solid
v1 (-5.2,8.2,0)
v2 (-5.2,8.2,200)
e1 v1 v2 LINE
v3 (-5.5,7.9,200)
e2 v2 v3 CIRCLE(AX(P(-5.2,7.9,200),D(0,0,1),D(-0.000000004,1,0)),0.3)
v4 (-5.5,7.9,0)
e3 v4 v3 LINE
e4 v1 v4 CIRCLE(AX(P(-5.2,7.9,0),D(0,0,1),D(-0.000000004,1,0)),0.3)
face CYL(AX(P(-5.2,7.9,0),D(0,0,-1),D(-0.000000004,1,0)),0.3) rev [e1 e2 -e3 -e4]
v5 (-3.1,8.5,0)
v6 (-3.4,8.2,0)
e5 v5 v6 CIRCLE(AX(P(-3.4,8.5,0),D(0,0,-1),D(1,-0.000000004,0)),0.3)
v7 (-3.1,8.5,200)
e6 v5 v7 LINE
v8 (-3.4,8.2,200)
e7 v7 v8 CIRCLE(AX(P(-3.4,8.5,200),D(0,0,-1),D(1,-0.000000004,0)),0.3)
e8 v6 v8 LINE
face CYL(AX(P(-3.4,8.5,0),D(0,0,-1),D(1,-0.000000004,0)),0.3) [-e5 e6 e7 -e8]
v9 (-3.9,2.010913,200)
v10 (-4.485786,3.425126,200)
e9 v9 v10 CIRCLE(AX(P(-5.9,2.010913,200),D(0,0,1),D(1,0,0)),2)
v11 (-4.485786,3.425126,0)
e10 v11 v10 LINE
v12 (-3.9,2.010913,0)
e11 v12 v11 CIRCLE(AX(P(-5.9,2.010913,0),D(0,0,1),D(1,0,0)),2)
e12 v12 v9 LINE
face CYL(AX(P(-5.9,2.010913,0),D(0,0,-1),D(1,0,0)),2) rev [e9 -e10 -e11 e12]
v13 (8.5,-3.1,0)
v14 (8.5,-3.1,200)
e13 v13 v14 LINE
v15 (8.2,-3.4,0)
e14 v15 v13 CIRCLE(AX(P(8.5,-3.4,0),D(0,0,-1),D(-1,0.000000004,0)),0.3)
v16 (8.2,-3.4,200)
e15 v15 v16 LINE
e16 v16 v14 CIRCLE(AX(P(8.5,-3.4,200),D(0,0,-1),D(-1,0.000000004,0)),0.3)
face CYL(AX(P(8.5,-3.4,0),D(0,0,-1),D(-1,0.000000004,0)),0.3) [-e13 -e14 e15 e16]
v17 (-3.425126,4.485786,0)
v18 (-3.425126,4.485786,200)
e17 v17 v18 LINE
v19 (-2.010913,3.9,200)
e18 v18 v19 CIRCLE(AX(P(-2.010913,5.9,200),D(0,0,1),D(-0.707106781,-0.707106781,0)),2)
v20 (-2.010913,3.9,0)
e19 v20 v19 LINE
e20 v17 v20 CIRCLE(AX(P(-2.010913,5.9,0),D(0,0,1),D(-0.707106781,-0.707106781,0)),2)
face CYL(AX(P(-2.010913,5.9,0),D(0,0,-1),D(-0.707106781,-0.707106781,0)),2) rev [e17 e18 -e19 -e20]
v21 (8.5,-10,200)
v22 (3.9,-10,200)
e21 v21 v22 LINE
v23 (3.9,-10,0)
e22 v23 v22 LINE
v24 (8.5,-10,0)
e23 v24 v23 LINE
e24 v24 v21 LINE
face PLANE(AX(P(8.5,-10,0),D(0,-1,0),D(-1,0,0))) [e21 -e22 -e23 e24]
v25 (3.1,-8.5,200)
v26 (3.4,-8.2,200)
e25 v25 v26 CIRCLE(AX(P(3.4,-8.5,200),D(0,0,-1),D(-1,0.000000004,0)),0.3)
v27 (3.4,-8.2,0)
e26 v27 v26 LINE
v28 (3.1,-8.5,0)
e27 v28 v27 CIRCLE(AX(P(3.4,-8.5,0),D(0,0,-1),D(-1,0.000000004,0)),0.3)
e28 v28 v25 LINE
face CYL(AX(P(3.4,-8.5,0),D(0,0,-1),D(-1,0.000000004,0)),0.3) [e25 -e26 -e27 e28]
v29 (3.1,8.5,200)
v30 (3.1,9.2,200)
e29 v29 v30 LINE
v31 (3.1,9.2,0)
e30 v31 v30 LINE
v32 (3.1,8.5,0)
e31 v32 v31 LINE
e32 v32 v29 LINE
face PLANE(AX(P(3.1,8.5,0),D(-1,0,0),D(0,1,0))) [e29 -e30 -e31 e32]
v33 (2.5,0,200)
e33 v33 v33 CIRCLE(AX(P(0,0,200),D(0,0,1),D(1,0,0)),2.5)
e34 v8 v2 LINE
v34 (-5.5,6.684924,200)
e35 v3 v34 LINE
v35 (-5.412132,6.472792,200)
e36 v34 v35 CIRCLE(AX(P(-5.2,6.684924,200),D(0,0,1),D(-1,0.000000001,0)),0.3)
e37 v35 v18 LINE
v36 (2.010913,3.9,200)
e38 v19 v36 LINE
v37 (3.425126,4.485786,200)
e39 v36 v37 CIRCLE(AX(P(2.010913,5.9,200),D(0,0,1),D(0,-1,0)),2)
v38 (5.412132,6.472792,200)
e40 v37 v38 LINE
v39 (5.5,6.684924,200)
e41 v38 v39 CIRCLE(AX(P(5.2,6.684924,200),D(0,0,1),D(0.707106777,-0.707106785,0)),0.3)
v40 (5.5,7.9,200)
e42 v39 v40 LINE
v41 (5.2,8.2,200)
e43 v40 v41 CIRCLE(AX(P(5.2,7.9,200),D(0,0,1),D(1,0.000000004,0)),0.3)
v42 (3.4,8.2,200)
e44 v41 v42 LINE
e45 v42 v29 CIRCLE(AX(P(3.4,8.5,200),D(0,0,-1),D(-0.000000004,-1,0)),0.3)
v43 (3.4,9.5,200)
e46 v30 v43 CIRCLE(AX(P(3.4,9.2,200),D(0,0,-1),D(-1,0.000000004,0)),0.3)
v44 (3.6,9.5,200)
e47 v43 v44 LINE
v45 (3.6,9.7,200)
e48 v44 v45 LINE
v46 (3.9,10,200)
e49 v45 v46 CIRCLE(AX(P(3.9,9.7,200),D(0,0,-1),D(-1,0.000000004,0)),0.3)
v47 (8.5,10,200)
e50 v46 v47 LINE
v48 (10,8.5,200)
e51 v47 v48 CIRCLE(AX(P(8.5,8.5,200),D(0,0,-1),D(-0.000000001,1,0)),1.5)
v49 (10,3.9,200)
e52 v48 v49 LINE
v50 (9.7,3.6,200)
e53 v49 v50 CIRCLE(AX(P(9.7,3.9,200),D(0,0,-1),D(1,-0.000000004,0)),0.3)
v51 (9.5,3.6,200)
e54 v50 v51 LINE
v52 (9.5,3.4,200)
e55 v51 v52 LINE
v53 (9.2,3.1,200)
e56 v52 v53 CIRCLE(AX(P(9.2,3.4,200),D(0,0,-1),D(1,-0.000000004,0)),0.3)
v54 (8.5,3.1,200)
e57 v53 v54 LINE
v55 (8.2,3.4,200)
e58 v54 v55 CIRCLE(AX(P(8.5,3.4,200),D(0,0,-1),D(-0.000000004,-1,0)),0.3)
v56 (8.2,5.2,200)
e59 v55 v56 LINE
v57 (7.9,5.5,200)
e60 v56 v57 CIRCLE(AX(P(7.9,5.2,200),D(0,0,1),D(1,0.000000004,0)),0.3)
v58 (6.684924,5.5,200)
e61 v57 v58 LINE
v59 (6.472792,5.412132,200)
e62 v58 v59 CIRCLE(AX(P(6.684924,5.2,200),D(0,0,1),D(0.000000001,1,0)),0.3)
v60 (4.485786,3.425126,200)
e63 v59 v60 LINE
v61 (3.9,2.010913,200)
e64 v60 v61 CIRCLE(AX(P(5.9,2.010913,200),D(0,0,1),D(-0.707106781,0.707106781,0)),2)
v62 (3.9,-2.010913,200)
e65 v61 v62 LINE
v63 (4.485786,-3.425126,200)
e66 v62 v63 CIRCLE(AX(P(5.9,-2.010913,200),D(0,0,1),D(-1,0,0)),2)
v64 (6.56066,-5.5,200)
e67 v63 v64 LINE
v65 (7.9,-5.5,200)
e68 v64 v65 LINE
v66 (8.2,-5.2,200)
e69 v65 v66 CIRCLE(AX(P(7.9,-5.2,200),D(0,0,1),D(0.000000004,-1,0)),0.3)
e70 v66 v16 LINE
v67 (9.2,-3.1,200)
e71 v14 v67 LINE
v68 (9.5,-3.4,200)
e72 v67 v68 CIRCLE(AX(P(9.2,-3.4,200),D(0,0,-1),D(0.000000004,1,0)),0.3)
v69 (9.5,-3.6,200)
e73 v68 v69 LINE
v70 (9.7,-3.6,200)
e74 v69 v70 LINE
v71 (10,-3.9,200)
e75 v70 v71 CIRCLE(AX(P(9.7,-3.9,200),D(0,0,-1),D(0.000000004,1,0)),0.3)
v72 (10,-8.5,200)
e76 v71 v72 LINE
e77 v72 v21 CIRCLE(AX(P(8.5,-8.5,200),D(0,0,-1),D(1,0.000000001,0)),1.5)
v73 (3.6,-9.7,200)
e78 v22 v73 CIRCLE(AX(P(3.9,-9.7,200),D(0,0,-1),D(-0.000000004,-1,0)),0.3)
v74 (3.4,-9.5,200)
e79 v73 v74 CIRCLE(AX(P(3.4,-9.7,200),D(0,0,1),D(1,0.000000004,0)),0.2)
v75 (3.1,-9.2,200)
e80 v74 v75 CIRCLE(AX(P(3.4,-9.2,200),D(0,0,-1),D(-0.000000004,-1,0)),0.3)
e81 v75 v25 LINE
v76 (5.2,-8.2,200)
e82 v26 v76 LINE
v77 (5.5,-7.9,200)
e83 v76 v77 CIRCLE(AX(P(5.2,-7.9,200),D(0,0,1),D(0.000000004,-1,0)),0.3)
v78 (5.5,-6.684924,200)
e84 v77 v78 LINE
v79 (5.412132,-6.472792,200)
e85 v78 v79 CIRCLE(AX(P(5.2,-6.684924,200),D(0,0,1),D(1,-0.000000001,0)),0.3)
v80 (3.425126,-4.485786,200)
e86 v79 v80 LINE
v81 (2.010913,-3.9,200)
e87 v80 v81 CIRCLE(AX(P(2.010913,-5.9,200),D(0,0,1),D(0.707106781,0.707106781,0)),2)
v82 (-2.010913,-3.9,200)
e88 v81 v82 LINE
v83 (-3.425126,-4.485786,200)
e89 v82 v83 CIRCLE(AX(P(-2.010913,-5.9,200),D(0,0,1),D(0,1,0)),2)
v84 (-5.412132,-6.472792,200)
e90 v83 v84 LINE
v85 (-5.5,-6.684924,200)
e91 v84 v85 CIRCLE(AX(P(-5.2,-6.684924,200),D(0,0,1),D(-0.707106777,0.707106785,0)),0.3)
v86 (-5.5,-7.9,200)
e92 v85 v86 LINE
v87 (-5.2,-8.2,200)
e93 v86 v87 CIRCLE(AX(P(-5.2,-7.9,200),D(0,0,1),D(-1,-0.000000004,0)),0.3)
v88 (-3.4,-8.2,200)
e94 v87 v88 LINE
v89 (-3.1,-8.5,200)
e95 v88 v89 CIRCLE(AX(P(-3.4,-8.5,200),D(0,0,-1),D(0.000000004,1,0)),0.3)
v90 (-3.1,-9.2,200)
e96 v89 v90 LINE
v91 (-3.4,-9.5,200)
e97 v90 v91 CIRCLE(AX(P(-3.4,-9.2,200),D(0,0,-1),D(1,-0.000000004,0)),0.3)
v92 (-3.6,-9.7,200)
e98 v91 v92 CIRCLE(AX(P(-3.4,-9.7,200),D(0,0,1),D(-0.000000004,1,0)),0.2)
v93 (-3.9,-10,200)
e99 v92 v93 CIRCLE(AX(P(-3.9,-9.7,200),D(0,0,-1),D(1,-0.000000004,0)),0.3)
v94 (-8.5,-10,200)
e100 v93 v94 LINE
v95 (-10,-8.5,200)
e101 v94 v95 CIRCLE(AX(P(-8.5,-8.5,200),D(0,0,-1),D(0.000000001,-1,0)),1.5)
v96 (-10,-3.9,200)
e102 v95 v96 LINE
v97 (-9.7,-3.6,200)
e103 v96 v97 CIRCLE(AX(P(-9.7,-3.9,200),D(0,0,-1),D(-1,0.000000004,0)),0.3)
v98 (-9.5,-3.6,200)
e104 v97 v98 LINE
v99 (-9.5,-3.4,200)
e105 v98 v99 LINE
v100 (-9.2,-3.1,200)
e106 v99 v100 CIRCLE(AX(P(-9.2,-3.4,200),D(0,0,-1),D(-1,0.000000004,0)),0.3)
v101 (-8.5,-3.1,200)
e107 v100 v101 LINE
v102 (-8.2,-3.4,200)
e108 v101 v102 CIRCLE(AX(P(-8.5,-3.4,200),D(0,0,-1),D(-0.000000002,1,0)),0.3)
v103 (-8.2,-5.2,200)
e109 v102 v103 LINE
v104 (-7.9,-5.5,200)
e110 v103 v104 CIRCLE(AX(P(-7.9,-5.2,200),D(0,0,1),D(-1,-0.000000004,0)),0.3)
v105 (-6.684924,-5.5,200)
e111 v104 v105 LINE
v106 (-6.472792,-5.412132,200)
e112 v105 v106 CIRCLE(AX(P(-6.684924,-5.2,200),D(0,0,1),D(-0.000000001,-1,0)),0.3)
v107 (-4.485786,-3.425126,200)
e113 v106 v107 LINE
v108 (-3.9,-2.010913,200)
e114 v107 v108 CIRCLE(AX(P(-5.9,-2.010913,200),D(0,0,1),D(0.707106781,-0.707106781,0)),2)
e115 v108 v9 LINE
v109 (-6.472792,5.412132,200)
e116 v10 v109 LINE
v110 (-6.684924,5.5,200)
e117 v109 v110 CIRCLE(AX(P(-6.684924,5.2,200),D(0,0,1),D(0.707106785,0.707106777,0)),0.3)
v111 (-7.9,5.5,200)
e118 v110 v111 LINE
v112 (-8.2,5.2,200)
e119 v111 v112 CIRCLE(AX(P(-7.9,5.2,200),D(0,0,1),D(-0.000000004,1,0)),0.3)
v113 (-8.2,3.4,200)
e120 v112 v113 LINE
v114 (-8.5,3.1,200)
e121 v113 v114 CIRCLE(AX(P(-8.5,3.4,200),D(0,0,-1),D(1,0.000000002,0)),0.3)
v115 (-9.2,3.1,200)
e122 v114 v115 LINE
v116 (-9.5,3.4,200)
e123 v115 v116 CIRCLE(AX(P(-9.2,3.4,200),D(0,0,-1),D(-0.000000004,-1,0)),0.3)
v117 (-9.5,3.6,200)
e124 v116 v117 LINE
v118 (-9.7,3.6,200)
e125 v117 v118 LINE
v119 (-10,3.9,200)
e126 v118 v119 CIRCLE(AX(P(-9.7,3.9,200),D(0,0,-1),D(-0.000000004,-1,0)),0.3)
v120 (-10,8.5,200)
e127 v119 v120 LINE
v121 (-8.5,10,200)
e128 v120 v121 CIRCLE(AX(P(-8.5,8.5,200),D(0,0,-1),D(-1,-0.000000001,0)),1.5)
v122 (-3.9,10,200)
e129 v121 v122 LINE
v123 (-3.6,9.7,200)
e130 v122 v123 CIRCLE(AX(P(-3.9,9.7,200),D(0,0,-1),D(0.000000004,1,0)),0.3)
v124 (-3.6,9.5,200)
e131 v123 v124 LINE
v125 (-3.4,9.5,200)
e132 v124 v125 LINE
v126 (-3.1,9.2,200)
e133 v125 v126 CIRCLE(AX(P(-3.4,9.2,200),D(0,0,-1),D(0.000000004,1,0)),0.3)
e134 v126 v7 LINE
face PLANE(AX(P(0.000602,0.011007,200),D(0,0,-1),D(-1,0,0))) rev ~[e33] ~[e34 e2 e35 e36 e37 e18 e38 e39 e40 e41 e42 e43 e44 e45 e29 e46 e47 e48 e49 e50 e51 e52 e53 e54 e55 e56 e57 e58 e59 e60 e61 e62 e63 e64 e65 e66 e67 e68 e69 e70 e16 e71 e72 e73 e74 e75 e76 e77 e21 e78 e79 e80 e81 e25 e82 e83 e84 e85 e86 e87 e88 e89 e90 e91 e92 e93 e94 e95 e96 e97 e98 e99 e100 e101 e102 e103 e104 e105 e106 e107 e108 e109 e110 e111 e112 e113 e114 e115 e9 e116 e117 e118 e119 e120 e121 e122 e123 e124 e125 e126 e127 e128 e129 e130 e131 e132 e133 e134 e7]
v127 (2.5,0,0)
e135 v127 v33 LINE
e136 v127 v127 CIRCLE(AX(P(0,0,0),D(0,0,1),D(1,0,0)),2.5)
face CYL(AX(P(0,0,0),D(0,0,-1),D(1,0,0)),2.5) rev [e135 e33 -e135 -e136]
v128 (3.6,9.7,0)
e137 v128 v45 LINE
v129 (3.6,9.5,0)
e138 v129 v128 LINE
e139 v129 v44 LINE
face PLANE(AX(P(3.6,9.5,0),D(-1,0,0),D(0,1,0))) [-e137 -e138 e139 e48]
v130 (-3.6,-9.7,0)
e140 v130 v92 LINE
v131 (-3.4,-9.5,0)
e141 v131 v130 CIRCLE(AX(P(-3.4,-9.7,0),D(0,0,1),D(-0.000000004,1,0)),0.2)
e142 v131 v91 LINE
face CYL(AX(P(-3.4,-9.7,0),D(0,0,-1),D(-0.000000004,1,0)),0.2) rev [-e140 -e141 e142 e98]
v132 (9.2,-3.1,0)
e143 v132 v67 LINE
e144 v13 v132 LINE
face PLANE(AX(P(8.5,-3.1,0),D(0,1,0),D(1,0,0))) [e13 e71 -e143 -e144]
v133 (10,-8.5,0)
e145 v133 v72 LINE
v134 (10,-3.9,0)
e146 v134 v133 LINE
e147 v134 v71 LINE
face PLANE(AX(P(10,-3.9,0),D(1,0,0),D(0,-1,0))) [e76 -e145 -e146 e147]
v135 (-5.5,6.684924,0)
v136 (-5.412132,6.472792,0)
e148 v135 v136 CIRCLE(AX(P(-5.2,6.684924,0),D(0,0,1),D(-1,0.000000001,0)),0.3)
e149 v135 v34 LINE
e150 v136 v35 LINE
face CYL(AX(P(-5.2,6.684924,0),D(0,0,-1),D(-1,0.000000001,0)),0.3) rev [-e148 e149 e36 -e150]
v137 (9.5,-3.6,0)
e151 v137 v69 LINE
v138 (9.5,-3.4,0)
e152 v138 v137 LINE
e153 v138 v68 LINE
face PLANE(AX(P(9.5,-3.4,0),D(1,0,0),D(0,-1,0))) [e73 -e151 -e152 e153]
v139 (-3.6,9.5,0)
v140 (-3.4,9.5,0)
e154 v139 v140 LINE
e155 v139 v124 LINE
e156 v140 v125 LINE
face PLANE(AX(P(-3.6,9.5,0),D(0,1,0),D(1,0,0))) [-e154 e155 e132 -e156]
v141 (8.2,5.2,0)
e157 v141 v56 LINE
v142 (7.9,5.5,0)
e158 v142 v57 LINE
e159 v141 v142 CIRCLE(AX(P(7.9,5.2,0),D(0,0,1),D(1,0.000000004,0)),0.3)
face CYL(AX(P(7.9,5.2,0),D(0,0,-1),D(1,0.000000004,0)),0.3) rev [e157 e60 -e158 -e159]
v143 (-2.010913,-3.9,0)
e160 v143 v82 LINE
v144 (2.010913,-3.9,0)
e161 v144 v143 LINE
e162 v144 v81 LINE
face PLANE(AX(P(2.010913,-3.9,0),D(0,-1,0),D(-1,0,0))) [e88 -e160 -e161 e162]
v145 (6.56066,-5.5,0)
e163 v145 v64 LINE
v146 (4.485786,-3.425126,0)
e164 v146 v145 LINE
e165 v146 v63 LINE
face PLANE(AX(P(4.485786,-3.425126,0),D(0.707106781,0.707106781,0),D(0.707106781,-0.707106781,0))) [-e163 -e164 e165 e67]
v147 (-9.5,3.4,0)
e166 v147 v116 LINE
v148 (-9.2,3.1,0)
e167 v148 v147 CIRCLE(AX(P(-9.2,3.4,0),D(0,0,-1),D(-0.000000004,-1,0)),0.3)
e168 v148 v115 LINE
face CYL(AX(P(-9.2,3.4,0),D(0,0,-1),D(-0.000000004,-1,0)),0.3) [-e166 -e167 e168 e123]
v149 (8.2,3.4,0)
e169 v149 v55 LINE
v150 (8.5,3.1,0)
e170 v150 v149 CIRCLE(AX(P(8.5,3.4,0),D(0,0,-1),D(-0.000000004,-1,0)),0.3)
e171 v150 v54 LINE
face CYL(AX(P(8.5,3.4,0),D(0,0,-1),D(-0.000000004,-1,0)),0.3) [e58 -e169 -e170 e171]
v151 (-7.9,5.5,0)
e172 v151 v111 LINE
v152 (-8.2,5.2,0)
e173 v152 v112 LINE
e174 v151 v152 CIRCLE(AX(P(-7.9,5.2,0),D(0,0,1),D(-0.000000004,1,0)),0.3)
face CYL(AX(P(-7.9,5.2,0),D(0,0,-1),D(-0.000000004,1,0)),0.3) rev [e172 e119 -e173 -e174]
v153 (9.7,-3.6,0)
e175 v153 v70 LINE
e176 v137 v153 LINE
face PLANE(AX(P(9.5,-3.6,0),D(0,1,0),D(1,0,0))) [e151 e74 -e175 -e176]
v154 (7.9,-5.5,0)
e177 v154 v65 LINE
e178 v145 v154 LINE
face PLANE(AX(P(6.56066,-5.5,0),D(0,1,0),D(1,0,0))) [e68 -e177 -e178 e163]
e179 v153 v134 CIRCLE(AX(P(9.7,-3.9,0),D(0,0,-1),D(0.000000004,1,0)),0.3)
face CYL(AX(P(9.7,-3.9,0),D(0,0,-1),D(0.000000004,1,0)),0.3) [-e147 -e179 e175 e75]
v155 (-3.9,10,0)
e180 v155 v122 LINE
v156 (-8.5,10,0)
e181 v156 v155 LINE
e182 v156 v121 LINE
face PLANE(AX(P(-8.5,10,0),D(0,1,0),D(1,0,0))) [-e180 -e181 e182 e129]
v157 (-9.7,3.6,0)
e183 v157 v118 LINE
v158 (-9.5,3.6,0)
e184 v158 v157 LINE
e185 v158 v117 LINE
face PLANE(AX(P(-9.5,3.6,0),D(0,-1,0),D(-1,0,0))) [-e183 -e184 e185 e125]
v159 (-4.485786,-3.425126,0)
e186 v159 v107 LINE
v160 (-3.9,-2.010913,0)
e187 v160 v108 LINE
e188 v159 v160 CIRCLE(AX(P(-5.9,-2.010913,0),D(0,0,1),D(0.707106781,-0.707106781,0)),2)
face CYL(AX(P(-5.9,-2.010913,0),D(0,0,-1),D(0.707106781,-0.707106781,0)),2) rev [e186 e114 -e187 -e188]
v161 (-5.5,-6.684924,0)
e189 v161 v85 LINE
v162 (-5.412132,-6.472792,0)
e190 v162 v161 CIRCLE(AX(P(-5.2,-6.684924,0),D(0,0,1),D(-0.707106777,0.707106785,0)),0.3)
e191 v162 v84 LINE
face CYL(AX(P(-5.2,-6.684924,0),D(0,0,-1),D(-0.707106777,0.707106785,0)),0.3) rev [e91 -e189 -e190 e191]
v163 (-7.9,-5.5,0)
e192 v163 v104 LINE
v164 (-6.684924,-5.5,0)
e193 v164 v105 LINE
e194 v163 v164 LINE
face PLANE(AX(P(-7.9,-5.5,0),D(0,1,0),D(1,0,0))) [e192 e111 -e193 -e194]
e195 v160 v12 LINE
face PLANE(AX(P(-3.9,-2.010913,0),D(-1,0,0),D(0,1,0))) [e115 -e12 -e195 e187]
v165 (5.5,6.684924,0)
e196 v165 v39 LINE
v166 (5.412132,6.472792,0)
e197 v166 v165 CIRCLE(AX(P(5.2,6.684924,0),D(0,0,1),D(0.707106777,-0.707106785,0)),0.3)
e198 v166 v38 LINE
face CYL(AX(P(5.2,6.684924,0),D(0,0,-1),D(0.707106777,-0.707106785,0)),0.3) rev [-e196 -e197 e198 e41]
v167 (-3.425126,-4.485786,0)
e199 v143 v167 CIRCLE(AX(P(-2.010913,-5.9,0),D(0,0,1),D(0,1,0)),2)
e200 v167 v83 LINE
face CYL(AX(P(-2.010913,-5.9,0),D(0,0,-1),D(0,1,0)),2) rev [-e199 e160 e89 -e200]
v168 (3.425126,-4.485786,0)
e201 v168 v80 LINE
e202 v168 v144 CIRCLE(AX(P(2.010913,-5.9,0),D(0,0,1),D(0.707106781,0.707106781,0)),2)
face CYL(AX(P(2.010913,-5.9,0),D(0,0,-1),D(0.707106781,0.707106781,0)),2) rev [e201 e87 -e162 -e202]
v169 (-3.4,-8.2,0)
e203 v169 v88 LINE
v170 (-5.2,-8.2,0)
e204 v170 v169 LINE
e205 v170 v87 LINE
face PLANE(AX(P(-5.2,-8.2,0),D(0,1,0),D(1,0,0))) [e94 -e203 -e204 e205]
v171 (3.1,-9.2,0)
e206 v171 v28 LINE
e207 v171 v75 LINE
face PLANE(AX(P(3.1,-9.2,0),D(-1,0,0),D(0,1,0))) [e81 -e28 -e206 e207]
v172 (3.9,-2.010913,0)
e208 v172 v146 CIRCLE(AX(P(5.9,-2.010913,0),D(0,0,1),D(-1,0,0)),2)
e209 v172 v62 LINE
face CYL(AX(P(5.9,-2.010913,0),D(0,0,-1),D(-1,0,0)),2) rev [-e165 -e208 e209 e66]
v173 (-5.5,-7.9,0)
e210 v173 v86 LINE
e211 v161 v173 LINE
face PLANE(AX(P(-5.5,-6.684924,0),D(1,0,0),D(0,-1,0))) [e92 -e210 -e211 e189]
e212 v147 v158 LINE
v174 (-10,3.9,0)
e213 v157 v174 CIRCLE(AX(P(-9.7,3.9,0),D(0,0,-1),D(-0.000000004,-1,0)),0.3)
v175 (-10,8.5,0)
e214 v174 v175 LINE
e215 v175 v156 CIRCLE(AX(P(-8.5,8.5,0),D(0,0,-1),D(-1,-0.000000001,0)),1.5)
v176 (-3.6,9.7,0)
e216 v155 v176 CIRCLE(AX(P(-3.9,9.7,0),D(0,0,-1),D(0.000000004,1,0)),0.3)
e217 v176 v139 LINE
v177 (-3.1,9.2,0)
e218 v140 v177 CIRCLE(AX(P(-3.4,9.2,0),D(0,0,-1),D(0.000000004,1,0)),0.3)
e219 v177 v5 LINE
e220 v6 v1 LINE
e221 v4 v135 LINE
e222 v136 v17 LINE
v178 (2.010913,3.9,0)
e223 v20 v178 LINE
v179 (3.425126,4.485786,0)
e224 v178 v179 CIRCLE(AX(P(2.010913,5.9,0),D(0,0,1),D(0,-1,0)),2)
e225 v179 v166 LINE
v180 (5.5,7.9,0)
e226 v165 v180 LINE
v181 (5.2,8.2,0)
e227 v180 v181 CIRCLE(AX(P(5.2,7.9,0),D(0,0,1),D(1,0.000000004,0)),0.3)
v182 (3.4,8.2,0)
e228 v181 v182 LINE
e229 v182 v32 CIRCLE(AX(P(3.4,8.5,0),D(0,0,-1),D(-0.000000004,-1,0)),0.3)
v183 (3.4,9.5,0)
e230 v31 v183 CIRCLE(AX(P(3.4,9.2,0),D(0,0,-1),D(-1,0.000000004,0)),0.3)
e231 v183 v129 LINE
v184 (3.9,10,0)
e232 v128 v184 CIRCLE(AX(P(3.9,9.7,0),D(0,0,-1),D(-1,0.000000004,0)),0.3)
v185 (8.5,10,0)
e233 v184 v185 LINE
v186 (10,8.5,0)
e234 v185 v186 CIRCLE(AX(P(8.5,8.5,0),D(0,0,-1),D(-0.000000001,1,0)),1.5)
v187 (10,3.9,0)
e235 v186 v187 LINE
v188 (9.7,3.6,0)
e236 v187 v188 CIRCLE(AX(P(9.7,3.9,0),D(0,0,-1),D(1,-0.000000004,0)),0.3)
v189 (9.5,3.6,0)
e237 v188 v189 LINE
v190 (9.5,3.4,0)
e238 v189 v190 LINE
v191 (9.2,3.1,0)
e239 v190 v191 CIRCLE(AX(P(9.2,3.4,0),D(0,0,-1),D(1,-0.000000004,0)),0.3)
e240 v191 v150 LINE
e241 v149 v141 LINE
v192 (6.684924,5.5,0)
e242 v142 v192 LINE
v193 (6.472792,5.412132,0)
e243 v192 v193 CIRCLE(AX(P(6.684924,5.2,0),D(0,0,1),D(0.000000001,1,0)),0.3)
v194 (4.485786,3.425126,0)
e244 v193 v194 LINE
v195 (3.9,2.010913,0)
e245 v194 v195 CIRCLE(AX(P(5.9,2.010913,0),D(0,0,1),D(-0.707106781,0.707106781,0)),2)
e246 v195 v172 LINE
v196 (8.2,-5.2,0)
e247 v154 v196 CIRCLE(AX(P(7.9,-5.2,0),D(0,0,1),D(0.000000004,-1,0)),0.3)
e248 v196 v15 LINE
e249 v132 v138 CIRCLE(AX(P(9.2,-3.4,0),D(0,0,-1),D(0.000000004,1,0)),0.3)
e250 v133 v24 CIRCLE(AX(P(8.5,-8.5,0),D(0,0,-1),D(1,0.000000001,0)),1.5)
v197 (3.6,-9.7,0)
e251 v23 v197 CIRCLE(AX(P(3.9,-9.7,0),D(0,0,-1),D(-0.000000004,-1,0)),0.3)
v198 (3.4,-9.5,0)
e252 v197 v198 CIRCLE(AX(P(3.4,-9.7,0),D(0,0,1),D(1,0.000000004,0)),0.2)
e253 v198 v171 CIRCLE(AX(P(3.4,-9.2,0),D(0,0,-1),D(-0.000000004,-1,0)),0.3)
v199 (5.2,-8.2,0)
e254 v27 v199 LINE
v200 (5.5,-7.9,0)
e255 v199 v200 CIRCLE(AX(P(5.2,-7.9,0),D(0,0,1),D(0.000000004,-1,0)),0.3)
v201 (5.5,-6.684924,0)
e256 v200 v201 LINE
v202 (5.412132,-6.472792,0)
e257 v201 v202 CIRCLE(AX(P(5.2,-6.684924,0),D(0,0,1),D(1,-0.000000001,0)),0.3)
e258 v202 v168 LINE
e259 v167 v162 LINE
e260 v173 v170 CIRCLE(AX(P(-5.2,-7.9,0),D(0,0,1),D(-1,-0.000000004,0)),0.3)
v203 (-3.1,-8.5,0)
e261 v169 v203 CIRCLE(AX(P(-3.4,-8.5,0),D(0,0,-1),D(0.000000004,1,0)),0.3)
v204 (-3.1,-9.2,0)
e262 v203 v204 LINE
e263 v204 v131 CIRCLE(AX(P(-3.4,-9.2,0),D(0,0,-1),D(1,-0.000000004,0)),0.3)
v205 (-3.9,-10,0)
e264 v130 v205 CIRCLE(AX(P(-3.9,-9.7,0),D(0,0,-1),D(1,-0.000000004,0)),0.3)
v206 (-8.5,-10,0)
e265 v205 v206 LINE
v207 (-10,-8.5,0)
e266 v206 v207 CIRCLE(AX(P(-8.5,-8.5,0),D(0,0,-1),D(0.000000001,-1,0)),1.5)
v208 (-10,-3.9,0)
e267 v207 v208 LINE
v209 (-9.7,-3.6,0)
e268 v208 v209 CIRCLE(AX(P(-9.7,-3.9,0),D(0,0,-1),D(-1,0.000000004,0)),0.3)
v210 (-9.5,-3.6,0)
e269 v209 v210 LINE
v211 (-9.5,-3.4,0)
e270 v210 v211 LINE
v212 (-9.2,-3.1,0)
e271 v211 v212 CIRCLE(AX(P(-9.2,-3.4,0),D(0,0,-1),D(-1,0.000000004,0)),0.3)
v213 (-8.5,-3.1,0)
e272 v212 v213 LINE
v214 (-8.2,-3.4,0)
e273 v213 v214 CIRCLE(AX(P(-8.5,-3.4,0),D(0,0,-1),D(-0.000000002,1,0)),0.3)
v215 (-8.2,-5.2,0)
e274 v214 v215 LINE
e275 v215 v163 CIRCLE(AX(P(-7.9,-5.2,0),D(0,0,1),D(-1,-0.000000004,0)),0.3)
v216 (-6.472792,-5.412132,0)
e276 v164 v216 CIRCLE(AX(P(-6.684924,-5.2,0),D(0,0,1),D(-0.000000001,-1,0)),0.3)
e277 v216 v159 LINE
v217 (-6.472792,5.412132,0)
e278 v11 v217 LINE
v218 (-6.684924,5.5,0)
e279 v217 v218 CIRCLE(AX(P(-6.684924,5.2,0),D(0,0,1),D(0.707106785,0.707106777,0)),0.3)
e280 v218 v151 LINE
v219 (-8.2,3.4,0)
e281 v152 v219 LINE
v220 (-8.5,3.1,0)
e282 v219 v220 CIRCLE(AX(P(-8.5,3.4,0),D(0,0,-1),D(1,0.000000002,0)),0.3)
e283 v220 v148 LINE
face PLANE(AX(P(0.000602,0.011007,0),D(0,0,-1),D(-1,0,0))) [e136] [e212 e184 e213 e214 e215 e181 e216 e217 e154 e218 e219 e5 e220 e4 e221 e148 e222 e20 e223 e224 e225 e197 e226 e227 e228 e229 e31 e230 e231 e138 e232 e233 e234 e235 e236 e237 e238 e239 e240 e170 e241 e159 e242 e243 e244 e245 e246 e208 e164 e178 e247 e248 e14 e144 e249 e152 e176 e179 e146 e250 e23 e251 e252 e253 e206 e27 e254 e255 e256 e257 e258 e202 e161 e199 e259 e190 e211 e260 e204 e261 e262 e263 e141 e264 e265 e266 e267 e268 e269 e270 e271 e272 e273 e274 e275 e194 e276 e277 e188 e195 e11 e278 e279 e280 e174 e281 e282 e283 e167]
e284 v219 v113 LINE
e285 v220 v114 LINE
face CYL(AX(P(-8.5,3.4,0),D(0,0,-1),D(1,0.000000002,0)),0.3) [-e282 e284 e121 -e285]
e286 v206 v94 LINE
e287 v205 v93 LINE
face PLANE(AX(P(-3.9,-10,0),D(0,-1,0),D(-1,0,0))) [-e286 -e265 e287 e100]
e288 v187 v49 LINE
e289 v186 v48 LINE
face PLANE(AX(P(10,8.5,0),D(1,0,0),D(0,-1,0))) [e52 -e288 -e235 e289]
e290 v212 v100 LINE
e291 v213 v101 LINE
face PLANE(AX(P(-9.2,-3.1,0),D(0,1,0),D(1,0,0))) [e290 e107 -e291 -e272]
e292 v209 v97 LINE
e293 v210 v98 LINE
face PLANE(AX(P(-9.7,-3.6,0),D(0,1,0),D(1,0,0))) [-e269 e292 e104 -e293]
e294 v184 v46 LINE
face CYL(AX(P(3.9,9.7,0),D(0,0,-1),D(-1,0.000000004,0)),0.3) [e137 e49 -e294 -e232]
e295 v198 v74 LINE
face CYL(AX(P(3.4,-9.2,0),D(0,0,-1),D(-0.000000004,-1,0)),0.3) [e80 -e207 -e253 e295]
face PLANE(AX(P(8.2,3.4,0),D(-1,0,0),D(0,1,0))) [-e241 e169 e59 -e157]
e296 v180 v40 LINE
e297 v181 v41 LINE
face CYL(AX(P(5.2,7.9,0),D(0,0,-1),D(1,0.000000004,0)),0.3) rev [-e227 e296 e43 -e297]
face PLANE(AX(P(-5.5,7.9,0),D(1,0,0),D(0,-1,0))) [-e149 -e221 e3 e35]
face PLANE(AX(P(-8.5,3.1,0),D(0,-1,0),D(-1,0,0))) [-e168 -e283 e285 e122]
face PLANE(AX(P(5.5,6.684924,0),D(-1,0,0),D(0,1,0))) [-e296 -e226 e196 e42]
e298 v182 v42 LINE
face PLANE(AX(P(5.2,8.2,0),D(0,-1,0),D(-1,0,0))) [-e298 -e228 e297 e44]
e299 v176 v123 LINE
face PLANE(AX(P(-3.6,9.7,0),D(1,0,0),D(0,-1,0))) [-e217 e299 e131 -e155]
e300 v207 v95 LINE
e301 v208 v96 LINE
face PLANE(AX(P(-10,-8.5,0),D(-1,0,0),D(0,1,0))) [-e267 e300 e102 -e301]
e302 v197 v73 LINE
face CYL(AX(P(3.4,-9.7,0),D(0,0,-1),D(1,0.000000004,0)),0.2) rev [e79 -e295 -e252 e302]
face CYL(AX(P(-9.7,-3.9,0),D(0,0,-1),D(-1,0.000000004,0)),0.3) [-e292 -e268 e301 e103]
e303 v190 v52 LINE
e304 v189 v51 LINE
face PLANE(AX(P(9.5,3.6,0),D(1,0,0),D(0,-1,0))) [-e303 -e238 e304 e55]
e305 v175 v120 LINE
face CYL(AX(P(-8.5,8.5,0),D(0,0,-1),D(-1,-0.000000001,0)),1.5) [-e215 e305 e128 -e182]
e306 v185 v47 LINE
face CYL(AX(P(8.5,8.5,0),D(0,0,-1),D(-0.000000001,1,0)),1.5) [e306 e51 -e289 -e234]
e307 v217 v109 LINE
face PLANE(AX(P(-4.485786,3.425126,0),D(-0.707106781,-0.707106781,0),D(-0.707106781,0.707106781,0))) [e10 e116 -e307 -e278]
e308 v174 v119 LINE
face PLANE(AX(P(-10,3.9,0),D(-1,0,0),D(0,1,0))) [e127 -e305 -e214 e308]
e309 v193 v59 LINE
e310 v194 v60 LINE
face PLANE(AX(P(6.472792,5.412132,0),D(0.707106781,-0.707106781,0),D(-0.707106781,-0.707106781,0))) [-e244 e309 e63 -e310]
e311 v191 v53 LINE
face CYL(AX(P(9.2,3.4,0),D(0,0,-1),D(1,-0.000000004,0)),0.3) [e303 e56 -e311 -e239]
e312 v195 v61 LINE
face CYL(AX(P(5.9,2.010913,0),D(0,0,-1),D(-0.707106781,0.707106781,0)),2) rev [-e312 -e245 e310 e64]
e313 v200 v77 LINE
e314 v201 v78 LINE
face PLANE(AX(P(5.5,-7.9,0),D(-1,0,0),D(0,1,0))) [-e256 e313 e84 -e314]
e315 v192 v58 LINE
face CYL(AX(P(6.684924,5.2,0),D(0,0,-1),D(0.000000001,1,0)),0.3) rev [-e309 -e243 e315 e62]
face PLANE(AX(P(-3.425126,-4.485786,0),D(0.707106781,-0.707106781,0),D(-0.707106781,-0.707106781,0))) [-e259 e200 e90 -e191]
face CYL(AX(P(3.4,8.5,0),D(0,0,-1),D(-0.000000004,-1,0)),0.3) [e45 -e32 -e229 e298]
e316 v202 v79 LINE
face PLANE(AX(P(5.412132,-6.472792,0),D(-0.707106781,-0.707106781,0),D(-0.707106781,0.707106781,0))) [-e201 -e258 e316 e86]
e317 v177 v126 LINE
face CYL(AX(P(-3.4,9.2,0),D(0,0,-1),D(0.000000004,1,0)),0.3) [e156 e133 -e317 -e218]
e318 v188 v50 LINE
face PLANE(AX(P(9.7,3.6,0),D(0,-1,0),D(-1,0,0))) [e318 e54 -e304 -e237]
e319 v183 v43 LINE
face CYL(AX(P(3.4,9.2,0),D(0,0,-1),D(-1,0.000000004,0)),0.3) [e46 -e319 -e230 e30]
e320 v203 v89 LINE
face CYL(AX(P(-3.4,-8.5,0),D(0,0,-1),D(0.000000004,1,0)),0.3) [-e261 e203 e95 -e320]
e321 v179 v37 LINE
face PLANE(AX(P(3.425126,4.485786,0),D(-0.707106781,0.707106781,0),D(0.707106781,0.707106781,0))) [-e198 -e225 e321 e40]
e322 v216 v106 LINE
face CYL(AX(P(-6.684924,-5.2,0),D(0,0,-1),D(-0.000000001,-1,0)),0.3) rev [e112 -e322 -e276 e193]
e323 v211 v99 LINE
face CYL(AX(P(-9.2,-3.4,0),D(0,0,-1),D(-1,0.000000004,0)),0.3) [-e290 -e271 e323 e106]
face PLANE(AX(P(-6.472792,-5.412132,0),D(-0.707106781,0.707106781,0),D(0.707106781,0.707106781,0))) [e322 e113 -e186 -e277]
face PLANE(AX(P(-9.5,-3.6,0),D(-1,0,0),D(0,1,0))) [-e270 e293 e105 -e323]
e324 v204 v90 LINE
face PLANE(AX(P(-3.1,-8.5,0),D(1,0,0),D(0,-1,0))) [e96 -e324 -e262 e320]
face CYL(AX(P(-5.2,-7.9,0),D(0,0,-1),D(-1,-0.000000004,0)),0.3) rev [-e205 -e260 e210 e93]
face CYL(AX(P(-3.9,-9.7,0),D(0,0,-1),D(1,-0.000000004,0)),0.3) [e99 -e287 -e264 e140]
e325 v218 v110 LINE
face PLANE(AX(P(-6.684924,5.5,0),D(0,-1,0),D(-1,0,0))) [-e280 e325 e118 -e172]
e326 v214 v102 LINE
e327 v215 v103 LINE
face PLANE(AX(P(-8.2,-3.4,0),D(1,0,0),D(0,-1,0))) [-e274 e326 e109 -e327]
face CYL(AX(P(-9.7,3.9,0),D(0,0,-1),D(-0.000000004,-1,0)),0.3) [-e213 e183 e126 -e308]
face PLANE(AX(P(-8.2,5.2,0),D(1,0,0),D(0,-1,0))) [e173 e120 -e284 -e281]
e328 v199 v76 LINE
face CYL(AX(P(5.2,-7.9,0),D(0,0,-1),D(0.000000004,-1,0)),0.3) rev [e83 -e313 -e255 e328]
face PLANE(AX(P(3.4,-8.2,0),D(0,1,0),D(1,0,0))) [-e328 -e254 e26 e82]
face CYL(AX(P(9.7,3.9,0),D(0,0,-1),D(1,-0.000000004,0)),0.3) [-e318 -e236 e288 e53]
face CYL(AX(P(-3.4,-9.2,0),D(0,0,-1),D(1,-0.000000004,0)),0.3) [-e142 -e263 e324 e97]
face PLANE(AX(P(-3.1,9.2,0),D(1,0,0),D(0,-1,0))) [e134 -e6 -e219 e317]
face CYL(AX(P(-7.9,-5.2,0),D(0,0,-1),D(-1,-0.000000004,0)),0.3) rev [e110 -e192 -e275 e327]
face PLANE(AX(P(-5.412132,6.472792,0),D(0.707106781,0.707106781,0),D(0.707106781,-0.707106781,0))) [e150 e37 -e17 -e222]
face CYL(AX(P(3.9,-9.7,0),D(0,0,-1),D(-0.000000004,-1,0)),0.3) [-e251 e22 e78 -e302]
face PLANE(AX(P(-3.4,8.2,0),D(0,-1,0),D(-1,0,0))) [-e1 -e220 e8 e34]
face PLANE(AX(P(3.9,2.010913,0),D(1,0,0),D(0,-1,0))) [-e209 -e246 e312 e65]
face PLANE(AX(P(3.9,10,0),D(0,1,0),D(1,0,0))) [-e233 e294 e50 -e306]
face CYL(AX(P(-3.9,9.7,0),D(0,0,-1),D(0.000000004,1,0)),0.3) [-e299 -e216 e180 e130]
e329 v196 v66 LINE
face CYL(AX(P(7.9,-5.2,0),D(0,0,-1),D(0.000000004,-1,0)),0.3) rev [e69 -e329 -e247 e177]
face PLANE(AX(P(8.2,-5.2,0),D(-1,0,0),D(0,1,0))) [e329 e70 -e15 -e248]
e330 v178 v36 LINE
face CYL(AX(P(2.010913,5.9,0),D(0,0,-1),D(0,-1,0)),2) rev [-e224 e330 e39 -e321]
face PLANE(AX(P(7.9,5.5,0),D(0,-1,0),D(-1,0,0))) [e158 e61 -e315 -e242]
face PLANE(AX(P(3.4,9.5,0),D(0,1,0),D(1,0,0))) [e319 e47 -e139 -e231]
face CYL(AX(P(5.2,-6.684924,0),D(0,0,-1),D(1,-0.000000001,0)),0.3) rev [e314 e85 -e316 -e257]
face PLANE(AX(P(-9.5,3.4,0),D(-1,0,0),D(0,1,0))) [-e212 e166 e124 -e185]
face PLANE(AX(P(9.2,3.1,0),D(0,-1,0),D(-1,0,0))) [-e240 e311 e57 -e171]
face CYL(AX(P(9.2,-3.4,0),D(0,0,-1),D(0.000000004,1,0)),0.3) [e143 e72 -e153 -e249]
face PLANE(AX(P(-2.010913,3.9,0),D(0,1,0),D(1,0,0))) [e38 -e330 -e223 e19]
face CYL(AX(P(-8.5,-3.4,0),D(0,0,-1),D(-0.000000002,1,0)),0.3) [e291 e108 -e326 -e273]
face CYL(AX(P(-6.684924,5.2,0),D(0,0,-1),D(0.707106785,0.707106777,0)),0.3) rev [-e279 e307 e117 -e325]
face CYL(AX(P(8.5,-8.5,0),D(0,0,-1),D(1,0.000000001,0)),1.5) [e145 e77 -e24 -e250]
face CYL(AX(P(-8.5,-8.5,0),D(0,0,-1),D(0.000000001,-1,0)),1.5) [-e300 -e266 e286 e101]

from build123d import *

# Parameters (mm, degrees)
SKETCH_1_R      = 2.5
EXTRUDE_1_DEPTH = 200


with BuildPart() as part:
    # 草图1 → 凸台-拉伸1 (new body)
    with BuildSketch(Plane.XY):
        with BuildLine():
            Line((3.9, 0), (3.9, -2.010912703))
            ThreePointArc((3.9, -2.010912703), (4.052240935, -2.776279568), (4.485786438, -3.425126266))
            Line((4.485786438, -3.425126266), (6.560660172, -5.5))
            Line((6.560660172, -5.5), (7.9, -5.5))
            ThreePointArc((7.9, -5.5), (8.112132034, -5.412132034), (8.2, -5.2))
            Line((8.2, -5.2), (8.2, -3.4))
            ThreePointArc((8.2, -3.4), (8.287867966, -3.187867966), (8.5, -3.1))
            Line((8.5, -3.1), (9.2, -3.1))
            ThreePointArc((9.2, -3.1), (9.412132034, -3.187867966), (9.5, -3.4))
            Line((9.5, -3.4), (9.5, -3.6))
            Line((9.5, -3.6), (9.7, -3.6))
            ThreePointArc((9.7, -3.6), (9.912132034, -3.687867966), (10, -3.9))
            Line((10, -3.9), (10, -8.5))
            ThreePointArc((10, -8.5), (9.560660172, -9.560660172), (8.5, -10))
            Line((8.5, -10), (3.9, -10))
            ThreePointArc((3.9, -10), (3.687867966, -9.912132034), (3.6, -9.7))
            ThreePointArc((3.6, -9.7), (3.541421356, -9.558578644), (3.4, -9.5))
            ThreePointArc((3.4, -9.5), (3.187867966, -9.412132034), (3.1, -9.2))
            Line((3.1, -9.2), (3.1, -8.5))
            ThreePointArc((3.1, -8.5), (3.187867966, -8.287867966), (3.4, -8.2))
            Line((3.4, -8.2), (5.2, -8.2))
            ThreePointArc((5.2, -8.2), (5.412132034, -8.112132034), (5.5, -7.9))
            Line((5.5, -7.9), (5.5, -6.68492424))
            ThreePointArc((5.5, -6.68492424), (5.47716386, -6.570119211), (5.412132034, -6.472792206))
            Line((5.412132034, -6.472792206), (3.425126266, -4.485786438))
            ThreePointArc((3.425126266, -4.485786438), (2.776279568, -4.052240935), (2.010912703, -3.9))
            Line((2.010912703, -3.9), (0, -3.9))
            Line((0, -3.9), (-2.010912703, -3.9))
            ThreePointArc((-2.010912703, -3.9), (-2.776279568, -4.052240935), (-3.425126266, -4.485786438))
            Line((-3.425126266, -4.485786438), (-5.412132034, -6.472792206))
            ThreePointArc((-5.412132034, -6.472792206), (-5.47716386, -6.570119211), (-5.5, -6.68492424))
            Line((-5.5, -6.68492424), (-5.5, -7.9))
            ThreePointArc((-5.5, -7.9), (-5.412132034, -8.112132034), (-5.2, -8.2))
            Line((-5.2, -8.2), (-3.4, -8.2))
            ThreePointArc((-3.4, -8.2), (-3.187867966, -8.287867966), (-3.1, -8.5))
            Line((-3.1, -8.5), (-3.1, -9.2))
            ThreePointArc((-3.1, -9.2), (-3.187867966, -9.412132034), (-3.4, -9.5))
            ThreePointArc((-3.4, -9.5), (-3.541421356, -9.558578644), (-3.6, -9.7))
            ThreePointArc((-3.6, -9.7), (-3.687867966, -9.912132034), (-3.9, -10))
            Line((-3.9, -10), (-8.5, -10))
            ThreePointArc((-8.5, -10), (-9.560660172, -9.560660172), (-10, -8.5))
            Line((-10, -8.5), (-10, -3.9))
            ThreePointArc((-10, -3.9), (-9.912132034, -3.687867966), (-9.7, -3.6))
            Line((-9.7, -3.6), (-9.5, -3.6))
            Line((-9.5, -3.6), (-9.5, -3.4))
            ThreePointArc((-9.5, -3.4), (-9.412132034, -3.187867966), (-9.2, -3.1))
            Line((-9.2, -3.1), (-8.5, -3.1))
            ThreePointArc((-8.5, -3.1), (-8.287867965, -3.187867966), (-8.2, -3.4))
            Line((-8.2, -3.4), (-8.2, -5.2))
            ThreePointArc((-8.2, -5.2), (-8.112132034, -5.412132034), (-7.9, -5.5))
            Line((-7.9, -5.5), (-6.68492424, -5.5))
            ThreePointArc((-6.68492424, -5.5), (-6.570119211, -5.47716386), (-6.472792206, -5.412132034))
            Line((-6.472792206, -5.412132034), (-4.485786438, -3.425126266))
            ThreePointArc((-4.485786438, -3.425126266), (-4.052240935, -2.776279568), (-3.9, -2.010912703))
            Line((-3.9, -2.010912703), (-3.9, 0))
            Line((-3.9, 0), (-3.9, 2.010912703))
            ThreePointArc((-3.9, 2.010912703), (-4.052240935, 2.776279568), (-4.485786438, 3.425126266))
            Line((-4.485786438, 3.425126266), (-6.472792206, 5.412132034))
            ThreePointArc((-6.472792206, 5.412132034), (-6.570119211, 5.47716386), (-6.68492424, 5.5))
            Line((-6.68492424, 5.5), (-7.9, 5.5))
            ThreePointArc((-7.9, 5.5), (-8.112132034, 5.412132034), (-8.2, 5.2))
            Line((-8.2, 5.2), (-8.2, 3.4))
            ThreePointArc((-8.2, 3.4), (-8.287867965, 3.187867966), (-8.5, 3.1))
            Line((-8.5, 3.1), (-9.2, 3.1))
            ThreePointArc((-9.2, 3.1), (-9.412132034, 3.187867966), (-9.5, 3.4))
            Line((-9.5, 3.4), (-9.5, 3.6))
            Line((-9.5, 3.6), (-9.7, 3.6))
            ThreePointArc((-9.7, 3.6), (-9.912132034, 3.687867966), (-10, 3.9))
            Line((-10, 3.9), (-10, 8.5))
            ThreePointArc((-10, 8.5), (-9.560660172, 9.560660172), (-8.5, 10))
            Line((-8.5, 10), (-3.9, 10))
            ThreePointArc((-3.9, 10), (-3.687867966, 9.912132034), (-3.6, 9.7))
            Line((-3.6, 9.7), (-3.6, 9.5))
            Line((-3.6, 9.5), (-3.4, 9.5))
            ThreePointArc((-3.4, 9.5), (-3.187867966, 9.412132034), (-3.1, 9.2))
            Line((-3.1, 9.2), (-3.1, 8.5))
            ThreePointArc((-3.1, 8.5), (-3.187867966, 8.287867966), (-3.4, 8.2))
            Line((-3.4, 8.2), (-5.2, 8.2))
            ThreePointArc((-5.2, 8.2), (-5.412132034, 8.112132034), (-5.5, 7.9))
            Line((-5.5, 7.9), (-5.5, 6.68492424))
            ThreePointArc((-5.5, 6.68492424), (-5.47716386, 6.570119211), (-5.412132034, 6.472792206))
            Line((-5.412132034, 6.472792206), (-3.425126266, 4.485786438))
            ThreePointArc((-3.425126266, 4.485786438), (-2.776279568, 4.052240935), (-2.010912703, 3.9))
            Line((-2.010912703, 3.9), (0, 3.9))
            Line((0, 3.9), (2.010912703, 3.9))
            ThreePointArc((2.010912703, 3.9), (2.776279568, 4.052240935), (3.425126266, 4.485786438))
            Line((3.425126266, 4.485786438), (5.412132034, 6.472792206))
            ThreePointArc((5.412132034, 6.472792206), (5.47716386, 6.570119211), (5.5, 6.68492424))
            Line((5.5, 6.68492424), (5.5, 7.9))
            ThreePointArc((5.5, 7.9), (5.412132034, 8.112132034), (5.2, 8.2))
            Line((5.2, 8.2), (3.4, 8.2))
            ThreePointArc((3.4, 8.2), (3.187867966, 8.287867966), (3.1, 8.5))
            Line((3.1, 8.5), (3.1, 9.2))
            ThreePointArc((3.1, 9.2), (3.187867966, 9.412132034), (3.4, 9.5))
            Line((3.4, 9.5), (3.6, 9.5))
            Line((3.6, 9.5), (3.6, 9.7))
            ThreePointArc((3.6, 9.7), (3.687867966, 9.912132034), (3.9, 10))
            Line((3.9, 10), (8.5, 10))
            ThreePointArc((8.5, 10), (9.560660172, 9.560660172), (10, 8.5))
            Line((10, 8.5), (10, 3.9))
            ThreePointArc((10, 3.9), (9.912132034, 3.687867966), (9.7, 3.6))
            Line((9.7, 3.6), (9.5, 3.6))
            Line((9.5, 3.6), (9.5, 3.4))
            ThreePointArc((9.5, 3.4), (9.412132034, 3.187867966), (9.2, 3.1))
            Line((9.2, 3.1), (8.5, 3.1))
            ThreePointArc((8.5, 3.1), (8.287867966, 3.187867966), (8.2, 3.4))
            Line((8.2, 3.4), (8.2, 5.2))
            ThreePointArc((8.2, 5.2), (8.112132034, 5.412132034), (7.9, 5.5))
            Line((7.9, 5.5), (6.68492424, 5.5))
            ThreePointArc((6.68492424, 5.5), (6.570119211, 5.47716386), (6.472792206, 5.412132034))
            Line((6.472792206, 5.412132034), (4.485786438, 3.425126266))
            ThreePointArc((4.485786438, 3.425126266), (4.052240935, 2.776279568), (3.9, 2.010912703))
            Line((3.9, 2.010912703), (3.9, 0))
        make_face()
        Circle(SKETCH_1_R, mode=Mode.SUBTRACT)
    extrude(amount=EXTRUDE_1_DEPTH)


solid = part.part
